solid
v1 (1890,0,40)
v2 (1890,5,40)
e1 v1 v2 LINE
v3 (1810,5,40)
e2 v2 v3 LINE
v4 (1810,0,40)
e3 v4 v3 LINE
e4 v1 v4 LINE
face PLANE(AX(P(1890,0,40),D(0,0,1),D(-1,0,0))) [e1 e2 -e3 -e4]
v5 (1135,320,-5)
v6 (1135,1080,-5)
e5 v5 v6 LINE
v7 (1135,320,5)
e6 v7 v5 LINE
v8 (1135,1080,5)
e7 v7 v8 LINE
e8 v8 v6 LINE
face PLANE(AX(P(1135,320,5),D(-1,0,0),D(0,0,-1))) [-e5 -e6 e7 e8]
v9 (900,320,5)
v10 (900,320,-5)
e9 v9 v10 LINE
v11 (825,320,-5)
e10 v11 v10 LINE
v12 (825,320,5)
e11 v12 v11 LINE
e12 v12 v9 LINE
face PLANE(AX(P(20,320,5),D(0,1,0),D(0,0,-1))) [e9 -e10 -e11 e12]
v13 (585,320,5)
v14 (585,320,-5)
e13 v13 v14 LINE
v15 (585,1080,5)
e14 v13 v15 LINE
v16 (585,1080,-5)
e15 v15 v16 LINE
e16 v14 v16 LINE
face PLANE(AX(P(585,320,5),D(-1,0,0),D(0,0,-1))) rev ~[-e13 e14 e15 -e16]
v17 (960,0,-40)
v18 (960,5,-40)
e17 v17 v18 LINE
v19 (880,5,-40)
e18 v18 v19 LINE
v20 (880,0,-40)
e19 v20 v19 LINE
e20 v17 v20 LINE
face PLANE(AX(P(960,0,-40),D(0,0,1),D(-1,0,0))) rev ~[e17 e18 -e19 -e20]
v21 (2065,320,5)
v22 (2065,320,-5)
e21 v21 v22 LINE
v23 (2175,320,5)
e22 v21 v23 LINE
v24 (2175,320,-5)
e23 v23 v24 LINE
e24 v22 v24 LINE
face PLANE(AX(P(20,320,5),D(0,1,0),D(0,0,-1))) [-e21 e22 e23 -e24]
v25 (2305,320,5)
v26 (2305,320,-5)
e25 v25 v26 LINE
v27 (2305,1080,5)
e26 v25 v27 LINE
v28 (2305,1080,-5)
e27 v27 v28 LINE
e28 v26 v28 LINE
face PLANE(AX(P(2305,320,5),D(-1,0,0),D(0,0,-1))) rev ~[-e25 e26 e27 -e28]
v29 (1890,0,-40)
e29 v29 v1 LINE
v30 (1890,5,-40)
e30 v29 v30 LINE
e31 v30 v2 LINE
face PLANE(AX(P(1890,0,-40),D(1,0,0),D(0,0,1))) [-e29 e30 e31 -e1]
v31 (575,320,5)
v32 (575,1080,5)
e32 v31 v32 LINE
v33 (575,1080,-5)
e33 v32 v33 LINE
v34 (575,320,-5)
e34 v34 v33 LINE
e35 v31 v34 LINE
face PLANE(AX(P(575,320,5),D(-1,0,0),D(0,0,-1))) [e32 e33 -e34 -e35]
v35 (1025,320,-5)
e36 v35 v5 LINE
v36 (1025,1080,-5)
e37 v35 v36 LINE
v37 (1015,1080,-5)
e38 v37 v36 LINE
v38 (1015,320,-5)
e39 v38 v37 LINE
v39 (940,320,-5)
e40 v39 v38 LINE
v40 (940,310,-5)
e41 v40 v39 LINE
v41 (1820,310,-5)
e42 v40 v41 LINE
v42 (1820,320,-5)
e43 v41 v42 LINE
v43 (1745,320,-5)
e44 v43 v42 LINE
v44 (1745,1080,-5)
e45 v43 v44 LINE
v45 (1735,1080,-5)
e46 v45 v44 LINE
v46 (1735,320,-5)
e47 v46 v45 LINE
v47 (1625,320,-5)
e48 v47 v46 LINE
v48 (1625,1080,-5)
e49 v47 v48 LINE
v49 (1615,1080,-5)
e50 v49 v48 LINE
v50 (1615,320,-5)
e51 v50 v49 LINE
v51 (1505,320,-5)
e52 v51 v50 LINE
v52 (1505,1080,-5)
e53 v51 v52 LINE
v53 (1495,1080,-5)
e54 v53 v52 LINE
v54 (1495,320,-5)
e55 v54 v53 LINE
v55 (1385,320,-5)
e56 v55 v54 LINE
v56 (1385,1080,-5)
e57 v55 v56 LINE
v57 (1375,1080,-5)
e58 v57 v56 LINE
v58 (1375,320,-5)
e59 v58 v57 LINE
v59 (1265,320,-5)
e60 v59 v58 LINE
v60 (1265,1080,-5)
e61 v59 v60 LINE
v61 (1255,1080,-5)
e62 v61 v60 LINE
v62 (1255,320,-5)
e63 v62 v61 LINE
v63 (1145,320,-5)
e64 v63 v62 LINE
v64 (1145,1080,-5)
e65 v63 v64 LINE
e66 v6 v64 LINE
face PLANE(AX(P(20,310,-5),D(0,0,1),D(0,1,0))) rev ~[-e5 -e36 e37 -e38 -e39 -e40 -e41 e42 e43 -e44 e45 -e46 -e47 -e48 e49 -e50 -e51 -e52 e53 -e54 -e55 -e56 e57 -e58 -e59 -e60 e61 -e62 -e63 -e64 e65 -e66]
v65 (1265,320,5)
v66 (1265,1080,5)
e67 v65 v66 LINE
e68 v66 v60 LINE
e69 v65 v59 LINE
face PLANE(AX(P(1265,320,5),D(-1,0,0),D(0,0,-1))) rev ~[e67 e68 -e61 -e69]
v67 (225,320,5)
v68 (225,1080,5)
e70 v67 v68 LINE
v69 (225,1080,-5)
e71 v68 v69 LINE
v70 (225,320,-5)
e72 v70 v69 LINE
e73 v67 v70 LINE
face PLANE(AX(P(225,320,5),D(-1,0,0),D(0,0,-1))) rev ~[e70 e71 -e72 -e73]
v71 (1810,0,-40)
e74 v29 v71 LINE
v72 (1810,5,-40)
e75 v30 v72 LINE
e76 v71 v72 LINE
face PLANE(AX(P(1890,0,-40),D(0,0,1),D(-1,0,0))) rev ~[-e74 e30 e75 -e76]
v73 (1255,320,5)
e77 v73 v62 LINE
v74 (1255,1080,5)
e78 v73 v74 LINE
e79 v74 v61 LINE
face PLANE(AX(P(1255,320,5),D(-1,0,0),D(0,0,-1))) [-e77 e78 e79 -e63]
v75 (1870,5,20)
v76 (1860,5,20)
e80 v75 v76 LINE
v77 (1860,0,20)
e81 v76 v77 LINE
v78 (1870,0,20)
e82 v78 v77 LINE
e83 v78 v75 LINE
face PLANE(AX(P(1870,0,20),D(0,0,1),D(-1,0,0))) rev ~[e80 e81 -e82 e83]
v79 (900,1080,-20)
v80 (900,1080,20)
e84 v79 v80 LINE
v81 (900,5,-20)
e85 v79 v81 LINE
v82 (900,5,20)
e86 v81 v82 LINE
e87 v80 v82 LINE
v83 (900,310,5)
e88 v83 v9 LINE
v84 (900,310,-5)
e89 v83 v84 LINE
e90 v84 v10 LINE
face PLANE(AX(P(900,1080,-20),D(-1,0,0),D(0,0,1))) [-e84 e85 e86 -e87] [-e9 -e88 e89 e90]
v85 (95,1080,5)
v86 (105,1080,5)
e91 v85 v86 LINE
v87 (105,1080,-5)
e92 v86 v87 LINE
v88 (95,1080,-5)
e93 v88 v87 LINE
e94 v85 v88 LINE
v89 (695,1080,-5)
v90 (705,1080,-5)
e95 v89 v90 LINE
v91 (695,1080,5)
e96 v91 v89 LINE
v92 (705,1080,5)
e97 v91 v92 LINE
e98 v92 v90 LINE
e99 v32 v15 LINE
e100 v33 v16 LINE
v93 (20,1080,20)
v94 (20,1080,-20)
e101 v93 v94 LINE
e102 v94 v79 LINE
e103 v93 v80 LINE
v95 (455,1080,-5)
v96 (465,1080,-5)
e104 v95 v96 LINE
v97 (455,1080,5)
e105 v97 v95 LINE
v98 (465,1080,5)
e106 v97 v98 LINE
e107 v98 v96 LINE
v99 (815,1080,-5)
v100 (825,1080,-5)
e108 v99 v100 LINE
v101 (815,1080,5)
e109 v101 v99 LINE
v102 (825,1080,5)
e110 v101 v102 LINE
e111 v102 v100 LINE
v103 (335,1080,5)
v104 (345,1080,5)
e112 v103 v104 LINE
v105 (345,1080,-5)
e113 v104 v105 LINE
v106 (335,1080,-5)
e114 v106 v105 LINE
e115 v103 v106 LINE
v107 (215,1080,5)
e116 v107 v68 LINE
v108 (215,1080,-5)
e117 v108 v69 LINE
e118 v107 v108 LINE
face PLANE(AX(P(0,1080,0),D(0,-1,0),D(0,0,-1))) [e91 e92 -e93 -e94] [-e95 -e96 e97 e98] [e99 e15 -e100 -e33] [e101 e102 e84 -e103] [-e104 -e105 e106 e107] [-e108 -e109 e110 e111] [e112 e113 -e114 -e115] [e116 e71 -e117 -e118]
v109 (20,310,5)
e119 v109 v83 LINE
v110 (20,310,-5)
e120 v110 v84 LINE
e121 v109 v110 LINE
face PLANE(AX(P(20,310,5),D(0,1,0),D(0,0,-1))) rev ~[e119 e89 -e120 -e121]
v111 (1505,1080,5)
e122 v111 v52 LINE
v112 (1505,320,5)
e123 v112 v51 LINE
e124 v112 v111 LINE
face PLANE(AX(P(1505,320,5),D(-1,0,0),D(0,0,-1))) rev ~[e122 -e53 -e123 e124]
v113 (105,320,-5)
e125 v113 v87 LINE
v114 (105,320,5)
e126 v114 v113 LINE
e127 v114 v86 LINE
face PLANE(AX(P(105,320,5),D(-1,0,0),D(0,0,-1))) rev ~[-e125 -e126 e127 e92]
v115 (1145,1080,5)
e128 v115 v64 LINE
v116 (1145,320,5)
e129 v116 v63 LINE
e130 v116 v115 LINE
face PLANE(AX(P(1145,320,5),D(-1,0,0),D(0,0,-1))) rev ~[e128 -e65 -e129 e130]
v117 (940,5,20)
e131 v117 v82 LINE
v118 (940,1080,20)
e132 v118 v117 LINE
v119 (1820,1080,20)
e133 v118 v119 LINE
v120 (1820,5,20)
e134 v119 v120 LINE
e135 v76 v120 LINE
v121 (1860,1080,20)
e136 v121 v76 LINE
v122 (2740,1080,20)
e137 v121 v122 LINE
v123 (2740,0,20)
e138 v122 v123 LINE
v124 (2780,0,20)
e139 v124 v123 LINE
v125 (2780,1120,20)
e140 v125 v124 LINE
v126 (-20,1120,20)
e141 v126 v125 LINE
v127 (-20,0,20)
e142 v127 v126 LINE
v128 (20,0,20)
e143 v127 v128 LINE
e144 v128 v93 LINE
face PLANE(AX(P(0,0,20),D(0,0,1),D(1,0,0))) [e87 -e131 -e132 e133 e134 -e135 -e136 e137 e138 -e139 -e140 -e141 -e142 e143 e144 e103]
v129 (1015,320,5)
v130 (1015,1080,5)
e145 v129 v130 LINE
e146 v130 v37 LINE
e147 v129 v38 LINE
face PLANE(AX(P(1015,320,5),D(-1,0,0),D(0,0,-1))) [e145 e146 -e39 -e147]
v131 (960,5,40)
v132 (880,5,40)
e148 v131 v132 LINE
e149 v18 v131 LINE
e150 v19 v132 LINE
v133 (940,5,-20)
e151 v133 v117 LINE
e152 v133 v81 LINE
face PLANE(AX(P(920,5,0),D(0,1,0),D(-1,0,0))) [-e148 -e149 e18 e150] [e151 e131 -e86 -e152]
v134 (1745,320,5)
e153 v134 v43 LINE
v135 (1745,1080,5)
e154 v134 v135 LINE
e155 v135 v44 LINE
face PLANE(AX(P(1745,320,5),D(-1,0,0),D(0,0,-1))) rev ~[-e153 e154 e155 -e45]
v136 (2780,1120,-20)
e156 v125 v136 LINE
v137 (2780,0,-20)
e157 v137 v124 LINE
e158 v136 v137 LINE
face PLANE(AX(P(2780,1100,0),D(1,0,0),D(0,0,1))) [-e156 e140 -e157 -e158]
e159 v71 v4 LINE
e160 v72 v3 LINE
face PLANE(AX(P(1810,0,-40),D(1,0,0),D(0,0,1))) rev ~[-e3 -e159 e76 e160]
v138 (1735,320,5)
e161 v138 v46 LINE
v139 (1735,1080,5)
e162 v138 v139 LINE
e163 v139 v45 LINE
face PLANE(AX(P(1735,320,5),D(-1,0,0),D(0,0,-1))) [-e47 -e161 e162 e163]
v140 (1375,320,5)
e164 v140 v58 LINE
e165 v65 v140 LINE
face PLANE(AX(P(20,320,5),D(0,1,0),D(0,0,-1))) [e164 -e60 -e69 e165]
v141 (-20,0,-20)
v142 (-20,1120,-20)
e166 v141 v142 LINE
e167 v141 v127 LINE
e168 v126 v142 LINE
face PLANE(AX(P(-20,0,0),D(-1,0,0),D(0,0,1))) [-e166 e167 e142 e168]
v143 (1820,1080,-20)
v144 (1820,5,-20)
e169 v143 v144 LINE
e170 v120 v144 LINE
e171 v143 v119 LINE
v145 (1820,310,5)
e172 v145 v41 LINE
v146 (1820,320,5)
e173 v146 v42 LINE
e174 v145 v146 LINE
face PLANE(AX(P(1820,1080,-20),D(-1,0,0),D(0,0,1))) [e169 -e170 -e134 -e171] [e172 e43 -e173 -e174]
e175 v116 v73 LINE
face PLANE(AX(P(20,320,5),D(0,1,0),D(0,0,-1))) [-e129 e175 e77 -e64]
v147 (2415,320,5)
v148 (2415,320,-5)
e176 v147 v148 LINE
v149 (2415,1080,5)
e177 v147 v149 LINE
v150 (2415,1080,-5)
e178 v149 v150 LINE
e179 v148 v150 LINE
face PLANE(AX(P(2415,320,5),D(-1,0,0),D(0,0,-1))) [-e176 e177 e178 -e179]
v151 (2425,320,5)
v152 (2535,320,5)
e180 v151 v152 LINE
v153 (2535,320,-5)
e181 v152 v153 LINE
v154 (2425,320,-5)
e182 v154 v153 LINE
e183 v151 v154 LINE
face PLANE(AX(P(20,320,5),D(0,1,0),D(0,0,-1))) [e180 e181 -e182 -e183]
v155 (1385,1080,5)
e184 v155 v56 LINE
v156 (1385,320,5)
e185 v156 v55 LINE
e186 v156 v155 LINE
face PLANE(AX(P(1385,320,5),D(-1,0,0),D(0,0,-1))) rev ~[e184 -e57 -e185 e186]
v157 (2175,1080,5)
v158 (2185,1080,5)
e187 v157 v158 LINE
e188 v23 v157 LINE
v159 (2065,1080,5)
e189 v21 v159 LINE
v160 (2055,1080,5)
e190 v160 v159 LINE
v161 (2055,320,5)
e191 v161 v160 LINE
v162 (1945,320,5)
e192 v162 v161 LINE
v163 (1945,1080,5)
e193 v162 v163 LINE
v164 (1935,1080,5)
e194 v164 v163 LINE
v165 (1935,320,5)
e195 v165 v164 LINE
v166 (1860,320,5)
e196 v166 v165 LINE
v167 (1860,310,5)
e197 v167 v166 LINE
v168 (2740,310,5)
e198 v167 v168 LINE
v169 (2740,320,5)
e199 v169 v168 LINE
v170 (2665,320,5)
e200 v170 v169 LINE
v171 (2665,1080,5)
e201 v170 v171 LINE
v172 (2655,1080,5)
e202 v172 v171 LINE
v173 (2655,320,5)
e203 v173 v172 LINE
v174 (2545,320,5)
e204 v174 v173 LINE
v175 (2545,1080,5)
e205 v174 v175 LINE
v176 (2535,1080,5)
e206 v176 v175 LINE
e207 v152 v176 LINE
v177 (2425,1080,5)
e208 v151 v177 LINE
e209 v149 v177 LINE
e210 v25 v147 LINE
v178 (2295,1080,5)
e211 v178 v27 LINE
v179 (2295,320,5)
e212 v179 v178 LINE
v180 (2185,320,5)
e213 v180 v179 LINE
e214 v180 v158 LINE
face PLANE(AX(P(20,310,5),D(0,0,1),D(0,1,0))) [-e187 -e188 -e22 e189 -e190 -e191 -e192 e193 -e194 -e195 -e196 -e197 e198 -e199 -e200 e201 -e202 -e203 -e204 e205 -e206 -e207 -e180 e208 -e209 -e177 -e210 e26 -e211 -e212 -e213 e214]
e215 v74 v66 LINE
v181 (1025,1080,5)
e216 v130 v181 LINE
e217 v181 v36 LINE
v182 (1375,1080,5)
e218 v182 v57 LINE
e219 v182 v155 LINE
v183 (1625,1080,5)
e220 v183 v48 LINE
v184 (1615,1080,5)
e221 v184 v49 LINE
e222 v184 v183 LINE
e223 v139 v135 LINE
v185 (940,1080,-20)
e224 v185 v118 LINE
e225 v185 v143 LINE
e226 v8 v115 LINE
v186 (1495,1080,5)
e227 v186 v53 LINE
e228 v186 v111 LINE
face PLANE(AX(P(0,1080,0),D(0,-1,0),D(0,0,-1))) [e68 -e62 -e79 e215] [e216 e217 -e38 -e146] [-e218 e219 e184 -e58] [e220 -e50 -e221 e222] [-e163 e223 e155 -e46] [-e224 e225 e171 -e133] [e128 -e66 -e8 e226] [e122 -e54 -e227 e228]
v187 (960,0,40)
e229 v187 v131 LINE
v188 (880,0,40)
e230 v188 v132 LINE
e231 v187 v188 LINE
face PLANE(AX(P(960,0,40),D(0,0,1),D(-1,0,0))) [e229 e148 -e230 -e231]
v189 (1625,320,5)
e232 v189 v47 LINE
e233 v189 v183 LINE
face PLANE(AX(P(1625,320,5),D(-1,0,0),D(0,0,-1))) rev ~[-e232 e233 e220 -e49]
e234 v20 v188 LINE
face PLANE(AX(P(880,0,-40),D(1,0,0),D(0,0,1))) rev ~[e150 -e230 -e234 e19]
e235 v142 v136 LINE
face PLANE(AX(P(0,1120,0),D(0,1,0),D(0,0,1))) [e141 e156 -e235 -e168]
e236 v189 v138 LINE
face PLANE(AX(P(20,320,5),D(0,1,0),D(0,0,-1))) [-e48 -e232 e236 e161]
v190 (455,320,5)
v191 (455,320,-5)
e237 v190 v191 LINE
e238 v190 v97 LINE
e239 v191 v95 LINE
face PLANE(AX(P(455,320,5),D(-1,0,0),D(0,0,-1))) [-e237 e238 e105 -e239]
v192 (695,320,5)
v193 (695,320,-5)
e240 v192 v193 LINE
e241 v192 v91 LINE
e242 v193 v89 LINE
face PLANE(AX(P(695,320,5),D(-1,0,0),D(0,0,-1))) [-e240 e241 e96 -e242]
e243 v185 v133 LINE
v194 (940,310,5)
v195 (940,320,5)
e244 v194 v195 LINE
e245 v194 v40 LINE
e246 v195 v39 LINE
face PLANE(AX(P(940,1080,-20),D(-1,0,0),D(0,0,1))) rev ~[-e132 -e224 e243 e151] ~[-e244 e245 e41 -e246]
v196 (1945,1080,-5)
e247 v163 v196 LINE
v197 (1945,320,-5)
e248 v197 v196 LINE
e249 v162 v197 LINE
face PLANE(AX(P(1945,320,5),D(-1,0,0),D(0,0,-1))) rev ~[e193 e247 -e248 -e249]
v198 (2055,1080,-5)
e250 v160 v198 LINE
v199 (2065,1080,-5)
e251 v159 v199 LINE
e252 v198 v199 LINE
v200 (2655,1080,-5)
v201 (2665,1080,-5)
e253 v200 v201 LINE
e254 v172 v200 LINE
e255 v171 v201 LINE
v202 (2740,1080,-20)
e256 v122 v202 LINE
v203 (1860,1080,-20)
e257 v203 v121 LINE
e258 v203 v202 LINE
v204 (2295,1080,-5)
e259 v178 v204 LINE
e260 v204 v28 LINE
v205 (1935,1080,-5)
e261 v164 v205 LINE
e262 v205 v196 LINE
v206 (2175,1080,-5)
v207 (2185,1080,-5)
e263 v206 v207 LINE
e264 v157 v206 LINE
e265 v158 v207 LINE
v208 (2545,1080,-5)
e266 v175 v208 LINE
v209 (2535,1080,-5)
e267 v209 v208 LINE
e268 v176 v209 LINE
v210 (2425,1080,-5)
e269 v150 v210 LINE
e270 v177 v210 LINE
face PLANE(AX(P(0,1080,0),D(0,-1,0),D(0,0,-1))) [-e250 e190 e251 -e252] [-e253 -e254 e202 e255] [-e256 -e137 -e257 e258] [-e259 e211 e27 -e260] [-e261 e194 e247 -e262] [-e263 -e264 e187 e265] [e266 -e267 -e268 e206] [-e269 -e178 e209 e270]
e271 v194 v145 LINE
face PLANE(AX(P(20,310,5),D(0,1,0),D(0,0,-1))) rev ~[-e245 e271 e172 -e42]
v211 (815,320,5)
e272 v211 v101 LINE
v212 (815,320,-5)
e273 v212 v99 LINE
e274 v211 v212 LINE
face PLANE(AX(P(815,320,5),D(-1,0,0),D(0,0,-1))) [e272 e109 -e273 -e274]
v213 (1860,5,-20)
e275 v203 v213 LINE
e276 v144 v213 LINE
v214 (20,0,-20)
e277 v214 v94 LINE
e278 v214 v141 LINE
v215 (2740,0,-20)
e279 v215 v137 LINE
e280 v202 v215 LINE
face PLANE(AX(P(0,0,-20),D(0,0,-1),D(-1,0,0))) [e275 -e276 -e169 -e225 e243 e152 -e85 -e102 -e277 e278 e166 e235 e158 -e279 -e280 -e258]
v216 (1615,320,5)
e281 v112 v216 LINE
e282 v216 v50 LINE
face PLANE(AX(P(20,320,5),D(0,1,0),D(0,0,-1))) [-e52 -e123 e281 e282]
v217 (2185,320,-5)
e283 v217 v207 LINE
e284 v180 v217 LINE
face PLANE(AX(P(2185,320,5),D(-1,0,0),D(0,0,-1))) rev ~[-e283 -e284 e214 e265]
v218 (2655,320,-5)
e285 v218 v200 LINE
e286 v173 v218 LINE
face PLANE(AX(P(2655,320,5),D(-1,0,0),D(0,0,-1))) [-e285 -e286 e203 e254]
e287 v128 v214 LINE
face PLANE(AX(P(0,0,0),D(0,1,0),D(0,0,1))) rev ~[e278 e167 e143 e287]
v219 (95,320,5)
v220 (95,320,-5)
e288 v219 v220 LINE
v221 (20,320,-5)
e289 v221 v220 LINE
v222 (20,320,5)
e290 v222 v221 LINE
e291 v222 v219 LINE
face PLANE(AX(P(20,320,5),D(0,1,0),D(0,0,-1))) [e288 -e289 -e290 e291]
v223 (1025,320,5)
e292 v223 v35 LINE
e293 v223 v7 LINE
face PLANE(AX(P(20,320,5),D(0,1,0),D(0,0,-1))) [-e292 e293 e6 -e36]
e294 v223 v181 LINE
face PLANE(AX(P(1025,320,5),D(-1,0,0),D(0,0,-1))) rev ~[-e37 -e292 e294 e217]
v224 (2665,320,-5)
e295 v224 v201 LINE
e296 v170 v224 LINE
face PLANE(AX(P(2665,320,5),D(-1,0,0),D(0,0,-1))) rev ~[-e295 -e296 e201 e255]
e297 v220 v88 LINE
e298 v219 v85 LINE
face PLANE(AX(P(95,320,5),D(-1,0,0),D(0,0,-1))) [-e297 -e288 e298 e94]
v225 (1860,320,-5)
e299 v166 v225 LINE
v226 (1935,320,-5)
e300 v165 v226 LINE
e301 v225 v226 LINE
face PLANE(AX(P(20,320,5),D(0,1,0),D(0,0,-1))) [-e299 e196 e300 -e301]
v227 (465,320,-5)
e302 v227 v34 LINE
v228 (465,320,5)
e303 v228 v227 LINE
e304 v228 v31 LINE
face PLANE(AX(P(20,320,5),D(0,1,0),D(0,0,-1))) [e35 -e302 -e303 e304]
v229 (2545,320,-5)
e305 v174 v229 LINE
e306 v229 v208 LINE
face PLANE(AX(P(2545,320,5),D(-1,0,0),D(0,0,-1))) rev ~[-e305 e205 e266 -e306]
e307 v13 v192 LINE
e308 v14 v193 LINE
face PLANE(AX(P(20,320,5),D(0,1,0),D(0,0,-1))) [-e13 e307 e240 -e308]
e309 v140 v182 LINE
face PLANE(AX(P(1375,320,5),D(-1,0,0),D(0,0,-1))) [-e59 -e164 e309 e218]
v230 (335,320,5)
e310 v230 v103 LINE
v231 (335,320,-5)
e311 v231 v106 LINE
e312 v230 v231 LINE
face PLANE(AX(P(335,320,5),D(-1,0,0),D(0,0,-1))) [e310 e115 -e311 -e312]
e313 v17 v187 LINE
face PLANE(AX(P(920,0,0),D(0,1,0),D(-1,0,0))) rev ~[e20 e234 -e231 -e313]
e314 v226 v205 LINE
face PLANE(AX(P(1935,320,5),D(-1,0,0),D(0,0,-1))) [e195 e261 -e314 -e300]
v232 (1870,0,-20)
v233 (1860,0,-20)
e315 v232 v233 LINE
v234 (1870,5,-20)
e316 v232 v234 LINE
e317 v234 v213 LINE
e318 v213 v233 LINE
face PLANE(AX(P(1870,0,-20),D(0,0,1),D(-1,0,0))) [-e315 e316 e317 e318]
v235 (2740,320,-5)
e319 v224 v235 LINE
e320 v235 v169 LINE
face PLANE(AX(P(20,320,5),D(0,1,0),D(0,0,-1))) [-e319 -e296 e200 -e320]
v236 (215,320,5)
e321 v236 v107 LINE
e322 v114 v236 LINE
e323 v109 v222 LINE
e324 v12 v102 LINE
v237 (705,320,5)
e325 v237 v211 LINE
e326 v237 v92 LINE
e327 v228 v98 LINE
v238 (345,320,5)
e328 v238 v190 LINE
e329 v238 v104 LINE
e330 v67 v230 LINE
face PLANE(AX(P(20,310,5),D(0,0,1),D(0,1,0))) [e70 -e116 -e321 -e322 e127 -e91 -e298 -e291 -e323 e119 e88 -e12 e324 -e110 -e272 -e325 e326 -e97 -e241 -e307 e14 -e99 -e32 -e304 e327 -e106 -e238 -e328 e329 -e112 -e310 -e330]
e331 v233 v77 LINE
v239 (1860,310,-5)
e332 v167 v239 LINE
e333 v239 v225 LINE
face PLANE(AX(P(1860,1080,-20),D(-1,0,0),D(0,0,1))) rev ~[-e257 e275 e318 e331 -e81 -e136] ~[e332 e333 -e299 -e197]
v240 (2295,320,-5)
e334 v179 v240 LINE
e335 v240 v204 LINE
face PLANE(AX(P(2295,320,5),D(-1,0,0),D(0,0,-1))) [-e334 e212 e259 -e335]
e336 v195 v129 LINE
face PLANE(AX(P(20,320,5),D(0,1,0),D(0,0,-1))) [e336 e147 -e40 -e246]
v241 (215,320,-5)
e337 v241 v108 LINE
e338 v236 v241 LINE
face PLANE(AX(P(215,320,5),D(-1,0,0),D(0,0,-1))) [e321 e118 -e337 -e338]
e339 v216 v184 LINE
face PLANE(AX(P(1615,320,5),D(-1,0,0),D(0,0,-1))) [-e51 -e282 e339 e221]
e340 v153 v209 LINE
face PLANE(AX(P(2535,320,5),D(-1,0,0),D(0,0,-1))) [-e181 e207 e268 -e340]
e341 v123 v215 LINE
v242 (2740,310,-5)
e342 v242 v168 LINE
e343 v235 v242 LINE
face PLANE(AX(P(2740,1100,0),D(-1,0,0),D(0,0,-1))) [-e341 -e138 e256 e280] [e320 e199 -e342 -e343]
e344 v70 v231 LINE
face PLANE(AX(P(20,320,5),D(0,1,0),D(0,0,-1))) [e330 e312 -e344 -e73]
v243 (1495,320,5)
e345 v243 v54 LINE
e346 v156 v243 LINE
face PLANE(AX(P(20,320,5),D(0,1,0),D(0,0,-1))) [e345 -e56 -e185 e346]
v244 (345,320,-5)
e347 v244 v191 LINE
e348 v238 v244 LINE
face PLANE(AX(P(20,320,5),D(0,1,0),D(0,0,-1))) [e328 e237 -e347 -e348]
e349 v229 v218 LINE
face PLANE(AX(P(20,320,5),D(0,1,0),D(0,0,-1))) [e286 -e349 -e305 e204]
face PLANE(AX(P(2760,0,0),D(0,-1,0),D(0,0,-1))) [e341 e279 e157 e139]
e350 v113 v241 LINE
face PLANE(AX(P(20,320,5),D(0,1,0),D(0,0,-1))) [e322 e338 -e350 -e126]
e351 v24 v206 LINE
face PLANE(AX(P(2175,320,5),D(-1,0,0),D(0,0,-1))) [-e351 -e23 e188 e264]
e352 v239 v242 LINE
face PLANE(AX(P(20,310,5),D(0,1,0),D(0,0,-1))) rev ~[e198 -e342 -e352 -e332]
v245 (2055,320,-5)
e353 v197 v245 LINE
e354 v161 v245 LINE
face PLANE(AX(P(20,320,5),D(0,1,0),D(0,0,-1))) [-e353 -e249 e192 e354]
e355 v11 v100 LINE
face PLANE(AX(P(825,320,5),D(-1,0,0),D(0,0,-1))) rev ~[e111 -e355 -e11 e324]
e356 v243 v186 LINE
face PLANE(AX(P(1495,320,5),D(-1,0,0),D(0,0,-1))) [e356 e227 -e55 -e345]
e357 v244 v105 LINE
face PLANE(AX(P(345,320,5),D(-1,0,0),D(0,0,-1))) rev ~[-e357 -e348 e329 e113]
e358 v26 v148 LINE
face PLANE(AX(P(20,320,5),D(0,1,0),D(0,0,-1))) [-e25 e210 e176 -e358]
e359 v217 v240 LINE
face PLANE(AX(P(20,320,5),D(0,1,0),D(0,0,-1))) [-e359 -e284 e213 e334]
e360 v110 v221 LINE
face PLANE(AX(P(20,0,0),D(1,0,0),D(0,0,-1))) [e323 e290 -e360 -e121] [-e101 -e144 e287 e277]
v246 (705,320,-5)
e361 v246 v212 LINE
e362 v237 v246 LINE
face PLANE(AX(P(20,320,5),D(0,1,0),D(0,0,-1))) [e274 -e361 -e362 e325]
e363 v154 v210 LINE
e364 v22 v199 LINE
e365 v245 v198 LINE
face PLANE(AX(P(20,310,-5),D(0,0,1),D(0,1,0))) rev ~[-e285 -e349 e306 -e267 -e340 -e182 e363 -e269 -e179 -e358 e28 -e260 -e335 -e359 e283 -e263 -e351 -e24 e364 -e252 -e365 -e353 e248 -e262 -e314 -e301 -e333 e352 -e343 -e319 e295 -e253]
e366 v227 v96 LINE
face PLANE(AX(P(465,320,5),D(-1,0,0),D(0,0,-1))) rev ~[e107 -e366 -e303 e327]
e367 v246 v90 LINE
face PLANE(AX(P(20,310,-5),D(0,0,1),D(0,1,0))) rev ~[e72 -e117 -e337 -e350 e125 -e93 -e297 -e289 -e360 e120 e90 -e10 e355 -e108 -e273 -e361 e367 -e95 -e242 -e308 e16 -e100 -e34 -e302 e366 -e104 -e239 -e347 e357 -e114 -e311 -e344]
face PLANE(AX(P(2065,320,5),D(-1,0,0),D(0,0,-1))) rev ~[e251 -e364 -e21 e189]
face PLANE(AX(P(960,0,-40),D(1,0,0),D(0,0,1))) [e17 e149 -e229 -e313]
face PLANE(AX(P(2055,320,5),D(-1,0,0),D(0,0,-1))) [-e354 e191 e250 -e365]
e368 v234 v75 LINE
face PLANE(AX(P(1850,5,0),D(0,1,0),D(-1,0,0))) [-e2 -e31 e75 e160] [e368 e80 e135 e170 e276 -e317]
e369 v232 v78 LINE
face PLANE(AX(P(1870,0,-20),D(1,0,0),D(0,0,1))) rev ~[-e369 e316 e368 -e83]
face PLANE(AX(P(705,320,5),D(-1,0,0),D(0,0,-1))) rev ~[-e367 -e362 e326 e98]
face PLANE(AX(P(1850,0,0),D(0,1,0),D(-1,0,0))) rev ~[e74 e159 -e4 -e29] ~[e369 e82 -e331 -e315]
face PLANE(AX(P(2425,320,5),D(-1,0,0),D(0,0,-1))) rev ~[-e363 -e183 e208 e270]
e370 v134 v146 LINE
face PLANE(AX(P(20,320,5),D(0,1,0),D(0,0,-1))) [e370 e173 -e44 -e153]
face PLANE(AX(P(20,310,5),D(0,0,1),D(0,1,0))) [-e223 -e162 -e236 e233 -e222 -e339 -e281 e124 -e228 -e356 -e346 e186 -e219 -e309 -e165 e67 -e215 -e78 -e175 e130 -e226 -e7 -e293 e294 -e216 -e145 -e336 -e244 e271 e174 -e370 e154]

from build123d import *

# Parameters (mm, degrees)
SKETCH_2_W                           = 40
SKETCH_2_H                           = 40
SKETCH_4_W                           = 40
SKETCH_4_H                           = 40
EXTRUDE_1_DEPTH                      = 1080
EXTRUDE_2_REACH                      = 2980.657
SKETCH_5_W                           = 10
SKETCH_5_H                           = 10
SKETCH_6_W                           = 10
SKETCH_6_H                           = 10
EXTRUDE_3_DEPTH                      = 760
PATTERN_LINEAR_2_COUNT               = 4
PATTERN_LINEAR_2_PITCH               = 120
PATTERN_LINEAR_2_COL_COUNT           = 4
PATTERN_LINEAR_2_COL_PITCH           = 120
PATTERN_LINEAR_3_COUNT               = 2
PATTERN_LINEAR_3_PITCH               = 920
PATTERN_LINEAR_3_COPY_1_SKETCH_W     = 10
PATTERN_LINEAR_3_COPY_1_SKETCH_H     = 10
PATTERN_LINEAR_3_COPY_1_DEPTH        = 760
PATTERN_LINEAR_3_COPY_2_SKETCH_W     = 10
PATTERN_LINEAR_3_COPY_2_SKETCH_H     = 10
PATTERN_LINEAR_3_COPY_2_DEPTH        = 760
PATTERN_LINEAR_3_COPY_3_SKETCH_W     = 10
PATTERN_LINEAR_3_COPY_3_SKETCH_H     = 10
PATTERN_LINEAR_3_COPY_3_DEPTH        = 760
PATTERN_LINEAR_3_COPY_4_SKETCH_W     = 10
PATTERN_LINEAR_3_COPY_4_SKETCH_H     = 10
PATTERN_LINEAR_3_COPY_4_DEPTH        = 760
PATTERN_LINEAR_3_COPY_5_SKETCH_W     = 10
PATTERN_LINEAR_3_COPY_5_SKETCH_H     = 10
PATTERN_LINEAR_3_COPY_5_DEPTH        = 760
PATTERN_LINEAR_3_COPY_6_SKETCH_W     = 10
PATTERN_LINEAR_3_COPY_6_SKETCH_H     = 10
PATTERN_LINEAR_3_COPY_6_DEPTH        = 760
PATTERN_LINEAR_3_COL_COUNT           = 2
PATTERN_LINEAR_3_COL_PITCH           = 920
PATTERN_LINEAR_3_COL_COPY_1_SKETCH_W = 10
PATTERN_LINEAR_3_COL_COPY_1_SKETCH_H = 10
PATTERN_LINEAR_3_COL_COPY_1_DEPTH    = 760
PATTERN_LINEAR_3_COL_COPY_2_SKETCH_W = 10
PATTERN_LINEAR_3_COL_COPY_2_SKETCH_H = 10
PATTERN_LINEAR_3_COL_COPY_2_DEPTH    = 760
PATTERN_LINEAR_3_COL_COPY_3_SKETCH_W = 10
PATTERN_LINEAR_3_COL_COPY_3_SKETCH_H = 10
PATTERN_LINEAR_3_COL_COPY_3_DEPTH    = 760
PATTERN_LINEAR_3_COL_COPY_4_SKETCH_W = 10
PATTERN_LINEAR_3_COL_COPY_4_SKETCH_H = 10
PATTERN_LINEAR_3_COL_COPY_4_DEPTH    = 760
PATTERN_LINEAR_3_COL_COPY_5_SKETCH_W = 10
PATTERN_LINEAR_3_COL_COPY_5_SKETCH_H = 10
PATTERN_LINEAR_3_COL_COPY_5_DEPTH    = 760
PATTERN_LINEAR_3_COL_COPY_6_SKETCH_W = 10
PATTERN_LINEAR_3_COL_COPY_6_SKETCH_H = 10
PATTERN_LINEAR_3_COL_COPY_6_DEPTH    = 760
SKETCH_7_W                           = 80
SKETCH_7_H                           = 80
SKETCH_7_W_2                         = 40
SKETCH_7_H_2                         = 40
EXTRUDE_4_DEPTH                      = 5
PATTERN_LINEAR_4_COUNT               = 2
PATTERN_LINEAR_4_PITCH               = 930


with BuildPart() as part:
    # По траектории2: sweep along a curve in space
    with BuildLine() as sweep_2_path:
        Line((0, 0, 0), (0, 1100, 0))
        Line((0, 1100, 0), (2760, 1100, 0))
        Line((2760, 1100, 0), (2760, 0, 0))
    # Эскиз2 → По траектории2 (sweep)
    with BuildSketch(Plane(origin=(0, 0, 0), x_dir=(1, 0, 0), z_dir=(0, 1, 0))):
        Rectangle(SKETCH_2_W, SKETCH_2_H)
    sweep(path=sweep_2_path.line, transition=Transition.RIGHT)

    # Эскиз4 → Бобышка-Вытянуть1 (add)
    with BuildSketch(Plane.XZ.offset(-1080)):
        with Locations((920, 0)):
            Rectangle(SKETCH_4_W, SKETCH_4_H)
        with Locations((1840, 0)):
            Rectangle(SKETCH_4_W, SKETCH_4_H)
    extrude(amount=EXTRUDE_1_DEPTH)

    # Бобышка-Вытянуть2: up to this face of the body (flat: up to its plane)
    extrude_2_end = Plane(part.part.faces().sort_by_distance((2740, 540, 0))[0])
    # Эскиз5 → Бобышка-Вытянуть2 (add, up to the picked face)
    with BuildSketch(Plane(origin=(20, 0, 0), x_dir=(0, 0, -1), z_dir=(1, 0, 0)), mode=Mode.PRIVATE) as extrude_2_sk1:
        with Locations((0, 315)):
            Rectangle(SKETCH_5_W, SKETCH_5_H)
    extrude_2_tool1 = split(extrude(extrude_2_sk1.sketch, amount=EXTRUDE_2_REACH, mode=Mode.PRIVATE), bisect_by=extrude_2_end, keep=Keep.BOTH, mode=Mode.PRIVATE)
    add(extrude_2_tool1.solids().sort_by(Axis((20, 315, 0), (1, 0, 0)))[0])

    # Эскиз6 → Бобышка-Вытянуть3 (add)
    with BuildSketch(Plane(origin=(0, 320, 0), x_dir=(1, 0, 0), z_dir=(0, 1, 0))):
        with Locations((1380, 0)):
            Rectangle(SKETCH_6_W, SKETCH_6_H)
    extrude_3 = extrude(amount=EXTRUDE_3_DEPTH)

    # Линейный массив2: Бобышка-Вытянуть3 ×4
    with Locations(*[(-i * PATTERN_LINEAR_2_PITCH, 0, 0) for i in range(1, PATTERN_LINEAR_2_COUNT)]):
        add(extrude_3)

    # Линейный массив2 col: Бобышка-Вытянуть3 ×4
    with Locations(*[(i * PATTERN_LINEAR_2_COL_PITCH, 0, 0) for i in range(1, PATTERN_LINEAR_2_COL_COUNT)]):
        add(extrude_3)

    # Линейный массив3: Бобышка-Вытянуть3 ×2
    with Locations(*[(-i * PATTERN_LINEAR_3_PITCH, 0, 0) for i in range(1, PATTERN_LINEAR_3_COUNT)]):
        add(extrude_3)

    # Линейный массив3 copy 1 sketch → Линейный массив3 copy 1 (add)
    with BuildSketch(Plane(origin=(-1040, 320, 0), x_dir=(1, 0, 0), z_dir=(0, 1, 0))):
        with Locations((1380, 0)):
            Rectangle(PATTERN_LINEAR_3_COPY_1_SKETCH_W, PATTERN_LINEAR_3_COPY_1_SKETCH_H)
    extrude(amount=PATTERN_LINEAR_3_COPY_1_DEPTH)

    # Линейный массив3 copy 2 sketch → Линейный массив3 copy 2 (add)
    with BuildSketch(Plane(origin=(-1160, 320, 0), x_dir=(1, 0, 0), z_dir=(0, 1, 0))):
        with Locations((1380, 0)):
            Rectangle(PATTERN_LINEAR_3_COPY_2_SKETCH_W, PATTERN_LINEAR_3_COPY_2_SKETCH_H)
    extrude(amount=PATTERN_LINEAR_3_COPY_2_DEPTH)

    # Линейный массив3 copy 3 sketch → Линейный массив3 copy 3 (add)
    with BuildSketch(Plane(origin=(-1280, 320, 0), x_dir=(1, 0, 0), z_dir=(0, 1, 0))):
        with Locations((1380, 0)):
            Rectangle(PATTERN_LINEAR_3_COPY_3_SKETCH_W, PATTERN_LINEAR_3_COPY_3_SKETCH_H)
    extrude(amount=PATTERN_LINEAR_3_COPY_3_DEPTH)

    # Линейный массив3 copy 4 sketch → Линейный массив3 copy 4 (add)
    with BuildSketch(Plane(origin=(-800, 320, 0), x_dir=(1, 0, 0), z_dir=(0, 1, 0))):
        with Locations((1380, 0)):
            Rectangle(PATTERN_LINEAR_3_COPY_4_SKETCH_W, PATTERN_LINEAR_3_COPY_4_SKETCH_H)
    extrude(amount=PATTERN_LINEAR_3_COPY_4_DEPTH)

    # Линейный массив3 copy 5 sketch → Линейный массив3 copy 5 (add)
    with BuildSketch(Plane(origin=(-680, 320, 0), x_dir=(1, 0, 0), z_dir=(0, 1, 0))):
        with Locations((1380, 0)):
            Rectangle(PATTERN_LINEAR_3_COPY_5_SKETCH_W, PATTERN_LINEAR_3_COPY_5_SKETCH_H)
    extrude(amount=PATTERN_LINEAR_3_COPY_5_DEPTH)

    # Линейный массив3 copy 6 sketch → Линейный массив3 copy 6 (add)
    with BuildSketch(Plane(origin=(-560, 320, 0), x_dir=(1, 0, 0), z_dir=(0, 1, 0))):
        with Locations((1380, 0)):
            Rectangle(PATTERN_LINEAR_3_COPY_6_SKETCH_W, PATTERN_LINEAR_3_COPY_6_SKETCH_H)
    extrude(amount=PATTERN_LINEAR_3_COPY_6_DEPTH)

    # Линейный массив3 col: Бобышка-Вытянуть3 ×2
    with Locations(*[(i * PATTERN_LINEAR_3_COL_PITCH, 0, 0) for i in range(1, PATTERN_LINEAR_3_COL_COUNT)]):
        add(extrude_3)

    # Линейный массив3 col copy 1 sketch → Линейный массив3 col copy 1 (add)
    with BuildSketch(Plane(origin=(800, 320, 0), x_dir=(1, 0, 0), z_dir=(0, 1, 0))):
        with Locations((1380, 0)):
            Rectangle(PATTERN_LINEAR_3_COL_COPY_1_SKETCH_W, PATTERN_LINEAR_3_COL_COPY_1_SKETCH_H)
    extrude(amount=PATTERN_LINEAR_3_COL_COPY_1_DEPTH)

    # Линейный массив3 col copy 2 sketch → Линейный массив3 col copy 2 (add)
    with BuildSketch(Plane(origin=(680, 320, 0), x_dir=(1, 0, 0), z_dir=(0, 1, 0))):
        with Locations((1380, 0)):
            Rectangle(PATTERN_LINEAR_3_COL_COPY_2_SKETCH_W, PATTERN_LINEAR_3_COL_COPY_2_SKETCH_H)
    extrude(amount=PATTERN_LINEAR_3_COL_COPY_2_DEPTH)

    # Линейный массив3 col copy 3 sketch → Линейный массив3 col copy 3 (add)
    with BuildSketch(Plane(origin=(560, 320, 0), x_dir=(1, 0, 0), z_dir=(0, 1, 0))):
        with Locations((1380, 0)):
            Rectangle(PATTERN_LINEAR_3_COL_COPY_3_SKETCH_W, PATTERN_LINEAR_3_COL_COPY_3_SKETCH_H)
    extrude(amount=PATTERN_LINEAR_3_COL_COPY_3_DEPTH)

    # Линейный массив3 col copy 4 sketch → Линейный массив3 col copy 4 (add)
    with BuildSketch(Plane(origin=(1040, 320, 0), x_dir=(1, 0, 0), z_dir=(0, 1, 0))):
        with Locations((1380, 0)):
            Rectangle(PATTERN_LINEAR_3_COL_COPY_4_SKETCH_W, PATTERN_LINEAR_3_COL_COPY_4_SKETCH_H)
    extrude(amount=PATTERN_LINEAR_3_COL_COPY_4_DEPTH)

    # Линейный массив3 col copy 5 sketch → Линейный массив3 col copy 5 (add)
    with BuildSketch(Plane(origin=(1160, 320, 0), x_dir=(1, 0, 0), z_dir=(0, 1, 0))):
        with Locations((1380, 0)):
            Rectangle(PATTERN_LINEAR_3_COL_COPY_5_SKETCH_W, PATTERN_LINEAR_3_COL_COPY_5_SKETCH_H)
    extrude(amount=PATTERN_LINEAR_3_COL_COPY_5_DEPTH)

    # Линейный массив3 col copy 6 sketch → Линейный массив3 col copy 6 (add)
    with BuildSketch(Plane(origin=(1280, 320, 0), x_dir=(1, 0, 0), z_dir=(0, 1, 0))):
        with Locations((1380, 0)):
            Rectangle(PATTERN_LINEAR_3_COL_COPY_6_SKETCH_W, PATTERN_LINEAR_3_COL_COPY_6_SKETCH_H)
    extrude(amount=PATTERN_LINEAR_3_COL_COPY_6_DEPTH)

    # Эскиз7 → Бобышка-Вытянуть4 (add)
    with BuildSketch(Plane(origin=(0, 0, 0), x_dir=(-1, 0, 0), z_dir=(0, 1, 0))):
        with Locations((-920, 0)):
            Rectangle(SKETCH_7_W, SKETCH_7_H)
        with Locations((-920, 0)):
            Rectangle(SKETCH_7_W_2, SKETCH_7_H_2, mode=Mode.SUBTRACT)
    extrude_4 = extrude(amount=EXTRUDE_4_DEPTH)

    # Линейный массив4: Бобышка-Вытянуть4 ×2
    with Locations(*[(i * PATTERN_LINEAR_4_PITCH, 0, 0) for i in range(1, PATTERN_LINEAR_4_COUNT)]):
        add(extrude_4)


solid = part.part
